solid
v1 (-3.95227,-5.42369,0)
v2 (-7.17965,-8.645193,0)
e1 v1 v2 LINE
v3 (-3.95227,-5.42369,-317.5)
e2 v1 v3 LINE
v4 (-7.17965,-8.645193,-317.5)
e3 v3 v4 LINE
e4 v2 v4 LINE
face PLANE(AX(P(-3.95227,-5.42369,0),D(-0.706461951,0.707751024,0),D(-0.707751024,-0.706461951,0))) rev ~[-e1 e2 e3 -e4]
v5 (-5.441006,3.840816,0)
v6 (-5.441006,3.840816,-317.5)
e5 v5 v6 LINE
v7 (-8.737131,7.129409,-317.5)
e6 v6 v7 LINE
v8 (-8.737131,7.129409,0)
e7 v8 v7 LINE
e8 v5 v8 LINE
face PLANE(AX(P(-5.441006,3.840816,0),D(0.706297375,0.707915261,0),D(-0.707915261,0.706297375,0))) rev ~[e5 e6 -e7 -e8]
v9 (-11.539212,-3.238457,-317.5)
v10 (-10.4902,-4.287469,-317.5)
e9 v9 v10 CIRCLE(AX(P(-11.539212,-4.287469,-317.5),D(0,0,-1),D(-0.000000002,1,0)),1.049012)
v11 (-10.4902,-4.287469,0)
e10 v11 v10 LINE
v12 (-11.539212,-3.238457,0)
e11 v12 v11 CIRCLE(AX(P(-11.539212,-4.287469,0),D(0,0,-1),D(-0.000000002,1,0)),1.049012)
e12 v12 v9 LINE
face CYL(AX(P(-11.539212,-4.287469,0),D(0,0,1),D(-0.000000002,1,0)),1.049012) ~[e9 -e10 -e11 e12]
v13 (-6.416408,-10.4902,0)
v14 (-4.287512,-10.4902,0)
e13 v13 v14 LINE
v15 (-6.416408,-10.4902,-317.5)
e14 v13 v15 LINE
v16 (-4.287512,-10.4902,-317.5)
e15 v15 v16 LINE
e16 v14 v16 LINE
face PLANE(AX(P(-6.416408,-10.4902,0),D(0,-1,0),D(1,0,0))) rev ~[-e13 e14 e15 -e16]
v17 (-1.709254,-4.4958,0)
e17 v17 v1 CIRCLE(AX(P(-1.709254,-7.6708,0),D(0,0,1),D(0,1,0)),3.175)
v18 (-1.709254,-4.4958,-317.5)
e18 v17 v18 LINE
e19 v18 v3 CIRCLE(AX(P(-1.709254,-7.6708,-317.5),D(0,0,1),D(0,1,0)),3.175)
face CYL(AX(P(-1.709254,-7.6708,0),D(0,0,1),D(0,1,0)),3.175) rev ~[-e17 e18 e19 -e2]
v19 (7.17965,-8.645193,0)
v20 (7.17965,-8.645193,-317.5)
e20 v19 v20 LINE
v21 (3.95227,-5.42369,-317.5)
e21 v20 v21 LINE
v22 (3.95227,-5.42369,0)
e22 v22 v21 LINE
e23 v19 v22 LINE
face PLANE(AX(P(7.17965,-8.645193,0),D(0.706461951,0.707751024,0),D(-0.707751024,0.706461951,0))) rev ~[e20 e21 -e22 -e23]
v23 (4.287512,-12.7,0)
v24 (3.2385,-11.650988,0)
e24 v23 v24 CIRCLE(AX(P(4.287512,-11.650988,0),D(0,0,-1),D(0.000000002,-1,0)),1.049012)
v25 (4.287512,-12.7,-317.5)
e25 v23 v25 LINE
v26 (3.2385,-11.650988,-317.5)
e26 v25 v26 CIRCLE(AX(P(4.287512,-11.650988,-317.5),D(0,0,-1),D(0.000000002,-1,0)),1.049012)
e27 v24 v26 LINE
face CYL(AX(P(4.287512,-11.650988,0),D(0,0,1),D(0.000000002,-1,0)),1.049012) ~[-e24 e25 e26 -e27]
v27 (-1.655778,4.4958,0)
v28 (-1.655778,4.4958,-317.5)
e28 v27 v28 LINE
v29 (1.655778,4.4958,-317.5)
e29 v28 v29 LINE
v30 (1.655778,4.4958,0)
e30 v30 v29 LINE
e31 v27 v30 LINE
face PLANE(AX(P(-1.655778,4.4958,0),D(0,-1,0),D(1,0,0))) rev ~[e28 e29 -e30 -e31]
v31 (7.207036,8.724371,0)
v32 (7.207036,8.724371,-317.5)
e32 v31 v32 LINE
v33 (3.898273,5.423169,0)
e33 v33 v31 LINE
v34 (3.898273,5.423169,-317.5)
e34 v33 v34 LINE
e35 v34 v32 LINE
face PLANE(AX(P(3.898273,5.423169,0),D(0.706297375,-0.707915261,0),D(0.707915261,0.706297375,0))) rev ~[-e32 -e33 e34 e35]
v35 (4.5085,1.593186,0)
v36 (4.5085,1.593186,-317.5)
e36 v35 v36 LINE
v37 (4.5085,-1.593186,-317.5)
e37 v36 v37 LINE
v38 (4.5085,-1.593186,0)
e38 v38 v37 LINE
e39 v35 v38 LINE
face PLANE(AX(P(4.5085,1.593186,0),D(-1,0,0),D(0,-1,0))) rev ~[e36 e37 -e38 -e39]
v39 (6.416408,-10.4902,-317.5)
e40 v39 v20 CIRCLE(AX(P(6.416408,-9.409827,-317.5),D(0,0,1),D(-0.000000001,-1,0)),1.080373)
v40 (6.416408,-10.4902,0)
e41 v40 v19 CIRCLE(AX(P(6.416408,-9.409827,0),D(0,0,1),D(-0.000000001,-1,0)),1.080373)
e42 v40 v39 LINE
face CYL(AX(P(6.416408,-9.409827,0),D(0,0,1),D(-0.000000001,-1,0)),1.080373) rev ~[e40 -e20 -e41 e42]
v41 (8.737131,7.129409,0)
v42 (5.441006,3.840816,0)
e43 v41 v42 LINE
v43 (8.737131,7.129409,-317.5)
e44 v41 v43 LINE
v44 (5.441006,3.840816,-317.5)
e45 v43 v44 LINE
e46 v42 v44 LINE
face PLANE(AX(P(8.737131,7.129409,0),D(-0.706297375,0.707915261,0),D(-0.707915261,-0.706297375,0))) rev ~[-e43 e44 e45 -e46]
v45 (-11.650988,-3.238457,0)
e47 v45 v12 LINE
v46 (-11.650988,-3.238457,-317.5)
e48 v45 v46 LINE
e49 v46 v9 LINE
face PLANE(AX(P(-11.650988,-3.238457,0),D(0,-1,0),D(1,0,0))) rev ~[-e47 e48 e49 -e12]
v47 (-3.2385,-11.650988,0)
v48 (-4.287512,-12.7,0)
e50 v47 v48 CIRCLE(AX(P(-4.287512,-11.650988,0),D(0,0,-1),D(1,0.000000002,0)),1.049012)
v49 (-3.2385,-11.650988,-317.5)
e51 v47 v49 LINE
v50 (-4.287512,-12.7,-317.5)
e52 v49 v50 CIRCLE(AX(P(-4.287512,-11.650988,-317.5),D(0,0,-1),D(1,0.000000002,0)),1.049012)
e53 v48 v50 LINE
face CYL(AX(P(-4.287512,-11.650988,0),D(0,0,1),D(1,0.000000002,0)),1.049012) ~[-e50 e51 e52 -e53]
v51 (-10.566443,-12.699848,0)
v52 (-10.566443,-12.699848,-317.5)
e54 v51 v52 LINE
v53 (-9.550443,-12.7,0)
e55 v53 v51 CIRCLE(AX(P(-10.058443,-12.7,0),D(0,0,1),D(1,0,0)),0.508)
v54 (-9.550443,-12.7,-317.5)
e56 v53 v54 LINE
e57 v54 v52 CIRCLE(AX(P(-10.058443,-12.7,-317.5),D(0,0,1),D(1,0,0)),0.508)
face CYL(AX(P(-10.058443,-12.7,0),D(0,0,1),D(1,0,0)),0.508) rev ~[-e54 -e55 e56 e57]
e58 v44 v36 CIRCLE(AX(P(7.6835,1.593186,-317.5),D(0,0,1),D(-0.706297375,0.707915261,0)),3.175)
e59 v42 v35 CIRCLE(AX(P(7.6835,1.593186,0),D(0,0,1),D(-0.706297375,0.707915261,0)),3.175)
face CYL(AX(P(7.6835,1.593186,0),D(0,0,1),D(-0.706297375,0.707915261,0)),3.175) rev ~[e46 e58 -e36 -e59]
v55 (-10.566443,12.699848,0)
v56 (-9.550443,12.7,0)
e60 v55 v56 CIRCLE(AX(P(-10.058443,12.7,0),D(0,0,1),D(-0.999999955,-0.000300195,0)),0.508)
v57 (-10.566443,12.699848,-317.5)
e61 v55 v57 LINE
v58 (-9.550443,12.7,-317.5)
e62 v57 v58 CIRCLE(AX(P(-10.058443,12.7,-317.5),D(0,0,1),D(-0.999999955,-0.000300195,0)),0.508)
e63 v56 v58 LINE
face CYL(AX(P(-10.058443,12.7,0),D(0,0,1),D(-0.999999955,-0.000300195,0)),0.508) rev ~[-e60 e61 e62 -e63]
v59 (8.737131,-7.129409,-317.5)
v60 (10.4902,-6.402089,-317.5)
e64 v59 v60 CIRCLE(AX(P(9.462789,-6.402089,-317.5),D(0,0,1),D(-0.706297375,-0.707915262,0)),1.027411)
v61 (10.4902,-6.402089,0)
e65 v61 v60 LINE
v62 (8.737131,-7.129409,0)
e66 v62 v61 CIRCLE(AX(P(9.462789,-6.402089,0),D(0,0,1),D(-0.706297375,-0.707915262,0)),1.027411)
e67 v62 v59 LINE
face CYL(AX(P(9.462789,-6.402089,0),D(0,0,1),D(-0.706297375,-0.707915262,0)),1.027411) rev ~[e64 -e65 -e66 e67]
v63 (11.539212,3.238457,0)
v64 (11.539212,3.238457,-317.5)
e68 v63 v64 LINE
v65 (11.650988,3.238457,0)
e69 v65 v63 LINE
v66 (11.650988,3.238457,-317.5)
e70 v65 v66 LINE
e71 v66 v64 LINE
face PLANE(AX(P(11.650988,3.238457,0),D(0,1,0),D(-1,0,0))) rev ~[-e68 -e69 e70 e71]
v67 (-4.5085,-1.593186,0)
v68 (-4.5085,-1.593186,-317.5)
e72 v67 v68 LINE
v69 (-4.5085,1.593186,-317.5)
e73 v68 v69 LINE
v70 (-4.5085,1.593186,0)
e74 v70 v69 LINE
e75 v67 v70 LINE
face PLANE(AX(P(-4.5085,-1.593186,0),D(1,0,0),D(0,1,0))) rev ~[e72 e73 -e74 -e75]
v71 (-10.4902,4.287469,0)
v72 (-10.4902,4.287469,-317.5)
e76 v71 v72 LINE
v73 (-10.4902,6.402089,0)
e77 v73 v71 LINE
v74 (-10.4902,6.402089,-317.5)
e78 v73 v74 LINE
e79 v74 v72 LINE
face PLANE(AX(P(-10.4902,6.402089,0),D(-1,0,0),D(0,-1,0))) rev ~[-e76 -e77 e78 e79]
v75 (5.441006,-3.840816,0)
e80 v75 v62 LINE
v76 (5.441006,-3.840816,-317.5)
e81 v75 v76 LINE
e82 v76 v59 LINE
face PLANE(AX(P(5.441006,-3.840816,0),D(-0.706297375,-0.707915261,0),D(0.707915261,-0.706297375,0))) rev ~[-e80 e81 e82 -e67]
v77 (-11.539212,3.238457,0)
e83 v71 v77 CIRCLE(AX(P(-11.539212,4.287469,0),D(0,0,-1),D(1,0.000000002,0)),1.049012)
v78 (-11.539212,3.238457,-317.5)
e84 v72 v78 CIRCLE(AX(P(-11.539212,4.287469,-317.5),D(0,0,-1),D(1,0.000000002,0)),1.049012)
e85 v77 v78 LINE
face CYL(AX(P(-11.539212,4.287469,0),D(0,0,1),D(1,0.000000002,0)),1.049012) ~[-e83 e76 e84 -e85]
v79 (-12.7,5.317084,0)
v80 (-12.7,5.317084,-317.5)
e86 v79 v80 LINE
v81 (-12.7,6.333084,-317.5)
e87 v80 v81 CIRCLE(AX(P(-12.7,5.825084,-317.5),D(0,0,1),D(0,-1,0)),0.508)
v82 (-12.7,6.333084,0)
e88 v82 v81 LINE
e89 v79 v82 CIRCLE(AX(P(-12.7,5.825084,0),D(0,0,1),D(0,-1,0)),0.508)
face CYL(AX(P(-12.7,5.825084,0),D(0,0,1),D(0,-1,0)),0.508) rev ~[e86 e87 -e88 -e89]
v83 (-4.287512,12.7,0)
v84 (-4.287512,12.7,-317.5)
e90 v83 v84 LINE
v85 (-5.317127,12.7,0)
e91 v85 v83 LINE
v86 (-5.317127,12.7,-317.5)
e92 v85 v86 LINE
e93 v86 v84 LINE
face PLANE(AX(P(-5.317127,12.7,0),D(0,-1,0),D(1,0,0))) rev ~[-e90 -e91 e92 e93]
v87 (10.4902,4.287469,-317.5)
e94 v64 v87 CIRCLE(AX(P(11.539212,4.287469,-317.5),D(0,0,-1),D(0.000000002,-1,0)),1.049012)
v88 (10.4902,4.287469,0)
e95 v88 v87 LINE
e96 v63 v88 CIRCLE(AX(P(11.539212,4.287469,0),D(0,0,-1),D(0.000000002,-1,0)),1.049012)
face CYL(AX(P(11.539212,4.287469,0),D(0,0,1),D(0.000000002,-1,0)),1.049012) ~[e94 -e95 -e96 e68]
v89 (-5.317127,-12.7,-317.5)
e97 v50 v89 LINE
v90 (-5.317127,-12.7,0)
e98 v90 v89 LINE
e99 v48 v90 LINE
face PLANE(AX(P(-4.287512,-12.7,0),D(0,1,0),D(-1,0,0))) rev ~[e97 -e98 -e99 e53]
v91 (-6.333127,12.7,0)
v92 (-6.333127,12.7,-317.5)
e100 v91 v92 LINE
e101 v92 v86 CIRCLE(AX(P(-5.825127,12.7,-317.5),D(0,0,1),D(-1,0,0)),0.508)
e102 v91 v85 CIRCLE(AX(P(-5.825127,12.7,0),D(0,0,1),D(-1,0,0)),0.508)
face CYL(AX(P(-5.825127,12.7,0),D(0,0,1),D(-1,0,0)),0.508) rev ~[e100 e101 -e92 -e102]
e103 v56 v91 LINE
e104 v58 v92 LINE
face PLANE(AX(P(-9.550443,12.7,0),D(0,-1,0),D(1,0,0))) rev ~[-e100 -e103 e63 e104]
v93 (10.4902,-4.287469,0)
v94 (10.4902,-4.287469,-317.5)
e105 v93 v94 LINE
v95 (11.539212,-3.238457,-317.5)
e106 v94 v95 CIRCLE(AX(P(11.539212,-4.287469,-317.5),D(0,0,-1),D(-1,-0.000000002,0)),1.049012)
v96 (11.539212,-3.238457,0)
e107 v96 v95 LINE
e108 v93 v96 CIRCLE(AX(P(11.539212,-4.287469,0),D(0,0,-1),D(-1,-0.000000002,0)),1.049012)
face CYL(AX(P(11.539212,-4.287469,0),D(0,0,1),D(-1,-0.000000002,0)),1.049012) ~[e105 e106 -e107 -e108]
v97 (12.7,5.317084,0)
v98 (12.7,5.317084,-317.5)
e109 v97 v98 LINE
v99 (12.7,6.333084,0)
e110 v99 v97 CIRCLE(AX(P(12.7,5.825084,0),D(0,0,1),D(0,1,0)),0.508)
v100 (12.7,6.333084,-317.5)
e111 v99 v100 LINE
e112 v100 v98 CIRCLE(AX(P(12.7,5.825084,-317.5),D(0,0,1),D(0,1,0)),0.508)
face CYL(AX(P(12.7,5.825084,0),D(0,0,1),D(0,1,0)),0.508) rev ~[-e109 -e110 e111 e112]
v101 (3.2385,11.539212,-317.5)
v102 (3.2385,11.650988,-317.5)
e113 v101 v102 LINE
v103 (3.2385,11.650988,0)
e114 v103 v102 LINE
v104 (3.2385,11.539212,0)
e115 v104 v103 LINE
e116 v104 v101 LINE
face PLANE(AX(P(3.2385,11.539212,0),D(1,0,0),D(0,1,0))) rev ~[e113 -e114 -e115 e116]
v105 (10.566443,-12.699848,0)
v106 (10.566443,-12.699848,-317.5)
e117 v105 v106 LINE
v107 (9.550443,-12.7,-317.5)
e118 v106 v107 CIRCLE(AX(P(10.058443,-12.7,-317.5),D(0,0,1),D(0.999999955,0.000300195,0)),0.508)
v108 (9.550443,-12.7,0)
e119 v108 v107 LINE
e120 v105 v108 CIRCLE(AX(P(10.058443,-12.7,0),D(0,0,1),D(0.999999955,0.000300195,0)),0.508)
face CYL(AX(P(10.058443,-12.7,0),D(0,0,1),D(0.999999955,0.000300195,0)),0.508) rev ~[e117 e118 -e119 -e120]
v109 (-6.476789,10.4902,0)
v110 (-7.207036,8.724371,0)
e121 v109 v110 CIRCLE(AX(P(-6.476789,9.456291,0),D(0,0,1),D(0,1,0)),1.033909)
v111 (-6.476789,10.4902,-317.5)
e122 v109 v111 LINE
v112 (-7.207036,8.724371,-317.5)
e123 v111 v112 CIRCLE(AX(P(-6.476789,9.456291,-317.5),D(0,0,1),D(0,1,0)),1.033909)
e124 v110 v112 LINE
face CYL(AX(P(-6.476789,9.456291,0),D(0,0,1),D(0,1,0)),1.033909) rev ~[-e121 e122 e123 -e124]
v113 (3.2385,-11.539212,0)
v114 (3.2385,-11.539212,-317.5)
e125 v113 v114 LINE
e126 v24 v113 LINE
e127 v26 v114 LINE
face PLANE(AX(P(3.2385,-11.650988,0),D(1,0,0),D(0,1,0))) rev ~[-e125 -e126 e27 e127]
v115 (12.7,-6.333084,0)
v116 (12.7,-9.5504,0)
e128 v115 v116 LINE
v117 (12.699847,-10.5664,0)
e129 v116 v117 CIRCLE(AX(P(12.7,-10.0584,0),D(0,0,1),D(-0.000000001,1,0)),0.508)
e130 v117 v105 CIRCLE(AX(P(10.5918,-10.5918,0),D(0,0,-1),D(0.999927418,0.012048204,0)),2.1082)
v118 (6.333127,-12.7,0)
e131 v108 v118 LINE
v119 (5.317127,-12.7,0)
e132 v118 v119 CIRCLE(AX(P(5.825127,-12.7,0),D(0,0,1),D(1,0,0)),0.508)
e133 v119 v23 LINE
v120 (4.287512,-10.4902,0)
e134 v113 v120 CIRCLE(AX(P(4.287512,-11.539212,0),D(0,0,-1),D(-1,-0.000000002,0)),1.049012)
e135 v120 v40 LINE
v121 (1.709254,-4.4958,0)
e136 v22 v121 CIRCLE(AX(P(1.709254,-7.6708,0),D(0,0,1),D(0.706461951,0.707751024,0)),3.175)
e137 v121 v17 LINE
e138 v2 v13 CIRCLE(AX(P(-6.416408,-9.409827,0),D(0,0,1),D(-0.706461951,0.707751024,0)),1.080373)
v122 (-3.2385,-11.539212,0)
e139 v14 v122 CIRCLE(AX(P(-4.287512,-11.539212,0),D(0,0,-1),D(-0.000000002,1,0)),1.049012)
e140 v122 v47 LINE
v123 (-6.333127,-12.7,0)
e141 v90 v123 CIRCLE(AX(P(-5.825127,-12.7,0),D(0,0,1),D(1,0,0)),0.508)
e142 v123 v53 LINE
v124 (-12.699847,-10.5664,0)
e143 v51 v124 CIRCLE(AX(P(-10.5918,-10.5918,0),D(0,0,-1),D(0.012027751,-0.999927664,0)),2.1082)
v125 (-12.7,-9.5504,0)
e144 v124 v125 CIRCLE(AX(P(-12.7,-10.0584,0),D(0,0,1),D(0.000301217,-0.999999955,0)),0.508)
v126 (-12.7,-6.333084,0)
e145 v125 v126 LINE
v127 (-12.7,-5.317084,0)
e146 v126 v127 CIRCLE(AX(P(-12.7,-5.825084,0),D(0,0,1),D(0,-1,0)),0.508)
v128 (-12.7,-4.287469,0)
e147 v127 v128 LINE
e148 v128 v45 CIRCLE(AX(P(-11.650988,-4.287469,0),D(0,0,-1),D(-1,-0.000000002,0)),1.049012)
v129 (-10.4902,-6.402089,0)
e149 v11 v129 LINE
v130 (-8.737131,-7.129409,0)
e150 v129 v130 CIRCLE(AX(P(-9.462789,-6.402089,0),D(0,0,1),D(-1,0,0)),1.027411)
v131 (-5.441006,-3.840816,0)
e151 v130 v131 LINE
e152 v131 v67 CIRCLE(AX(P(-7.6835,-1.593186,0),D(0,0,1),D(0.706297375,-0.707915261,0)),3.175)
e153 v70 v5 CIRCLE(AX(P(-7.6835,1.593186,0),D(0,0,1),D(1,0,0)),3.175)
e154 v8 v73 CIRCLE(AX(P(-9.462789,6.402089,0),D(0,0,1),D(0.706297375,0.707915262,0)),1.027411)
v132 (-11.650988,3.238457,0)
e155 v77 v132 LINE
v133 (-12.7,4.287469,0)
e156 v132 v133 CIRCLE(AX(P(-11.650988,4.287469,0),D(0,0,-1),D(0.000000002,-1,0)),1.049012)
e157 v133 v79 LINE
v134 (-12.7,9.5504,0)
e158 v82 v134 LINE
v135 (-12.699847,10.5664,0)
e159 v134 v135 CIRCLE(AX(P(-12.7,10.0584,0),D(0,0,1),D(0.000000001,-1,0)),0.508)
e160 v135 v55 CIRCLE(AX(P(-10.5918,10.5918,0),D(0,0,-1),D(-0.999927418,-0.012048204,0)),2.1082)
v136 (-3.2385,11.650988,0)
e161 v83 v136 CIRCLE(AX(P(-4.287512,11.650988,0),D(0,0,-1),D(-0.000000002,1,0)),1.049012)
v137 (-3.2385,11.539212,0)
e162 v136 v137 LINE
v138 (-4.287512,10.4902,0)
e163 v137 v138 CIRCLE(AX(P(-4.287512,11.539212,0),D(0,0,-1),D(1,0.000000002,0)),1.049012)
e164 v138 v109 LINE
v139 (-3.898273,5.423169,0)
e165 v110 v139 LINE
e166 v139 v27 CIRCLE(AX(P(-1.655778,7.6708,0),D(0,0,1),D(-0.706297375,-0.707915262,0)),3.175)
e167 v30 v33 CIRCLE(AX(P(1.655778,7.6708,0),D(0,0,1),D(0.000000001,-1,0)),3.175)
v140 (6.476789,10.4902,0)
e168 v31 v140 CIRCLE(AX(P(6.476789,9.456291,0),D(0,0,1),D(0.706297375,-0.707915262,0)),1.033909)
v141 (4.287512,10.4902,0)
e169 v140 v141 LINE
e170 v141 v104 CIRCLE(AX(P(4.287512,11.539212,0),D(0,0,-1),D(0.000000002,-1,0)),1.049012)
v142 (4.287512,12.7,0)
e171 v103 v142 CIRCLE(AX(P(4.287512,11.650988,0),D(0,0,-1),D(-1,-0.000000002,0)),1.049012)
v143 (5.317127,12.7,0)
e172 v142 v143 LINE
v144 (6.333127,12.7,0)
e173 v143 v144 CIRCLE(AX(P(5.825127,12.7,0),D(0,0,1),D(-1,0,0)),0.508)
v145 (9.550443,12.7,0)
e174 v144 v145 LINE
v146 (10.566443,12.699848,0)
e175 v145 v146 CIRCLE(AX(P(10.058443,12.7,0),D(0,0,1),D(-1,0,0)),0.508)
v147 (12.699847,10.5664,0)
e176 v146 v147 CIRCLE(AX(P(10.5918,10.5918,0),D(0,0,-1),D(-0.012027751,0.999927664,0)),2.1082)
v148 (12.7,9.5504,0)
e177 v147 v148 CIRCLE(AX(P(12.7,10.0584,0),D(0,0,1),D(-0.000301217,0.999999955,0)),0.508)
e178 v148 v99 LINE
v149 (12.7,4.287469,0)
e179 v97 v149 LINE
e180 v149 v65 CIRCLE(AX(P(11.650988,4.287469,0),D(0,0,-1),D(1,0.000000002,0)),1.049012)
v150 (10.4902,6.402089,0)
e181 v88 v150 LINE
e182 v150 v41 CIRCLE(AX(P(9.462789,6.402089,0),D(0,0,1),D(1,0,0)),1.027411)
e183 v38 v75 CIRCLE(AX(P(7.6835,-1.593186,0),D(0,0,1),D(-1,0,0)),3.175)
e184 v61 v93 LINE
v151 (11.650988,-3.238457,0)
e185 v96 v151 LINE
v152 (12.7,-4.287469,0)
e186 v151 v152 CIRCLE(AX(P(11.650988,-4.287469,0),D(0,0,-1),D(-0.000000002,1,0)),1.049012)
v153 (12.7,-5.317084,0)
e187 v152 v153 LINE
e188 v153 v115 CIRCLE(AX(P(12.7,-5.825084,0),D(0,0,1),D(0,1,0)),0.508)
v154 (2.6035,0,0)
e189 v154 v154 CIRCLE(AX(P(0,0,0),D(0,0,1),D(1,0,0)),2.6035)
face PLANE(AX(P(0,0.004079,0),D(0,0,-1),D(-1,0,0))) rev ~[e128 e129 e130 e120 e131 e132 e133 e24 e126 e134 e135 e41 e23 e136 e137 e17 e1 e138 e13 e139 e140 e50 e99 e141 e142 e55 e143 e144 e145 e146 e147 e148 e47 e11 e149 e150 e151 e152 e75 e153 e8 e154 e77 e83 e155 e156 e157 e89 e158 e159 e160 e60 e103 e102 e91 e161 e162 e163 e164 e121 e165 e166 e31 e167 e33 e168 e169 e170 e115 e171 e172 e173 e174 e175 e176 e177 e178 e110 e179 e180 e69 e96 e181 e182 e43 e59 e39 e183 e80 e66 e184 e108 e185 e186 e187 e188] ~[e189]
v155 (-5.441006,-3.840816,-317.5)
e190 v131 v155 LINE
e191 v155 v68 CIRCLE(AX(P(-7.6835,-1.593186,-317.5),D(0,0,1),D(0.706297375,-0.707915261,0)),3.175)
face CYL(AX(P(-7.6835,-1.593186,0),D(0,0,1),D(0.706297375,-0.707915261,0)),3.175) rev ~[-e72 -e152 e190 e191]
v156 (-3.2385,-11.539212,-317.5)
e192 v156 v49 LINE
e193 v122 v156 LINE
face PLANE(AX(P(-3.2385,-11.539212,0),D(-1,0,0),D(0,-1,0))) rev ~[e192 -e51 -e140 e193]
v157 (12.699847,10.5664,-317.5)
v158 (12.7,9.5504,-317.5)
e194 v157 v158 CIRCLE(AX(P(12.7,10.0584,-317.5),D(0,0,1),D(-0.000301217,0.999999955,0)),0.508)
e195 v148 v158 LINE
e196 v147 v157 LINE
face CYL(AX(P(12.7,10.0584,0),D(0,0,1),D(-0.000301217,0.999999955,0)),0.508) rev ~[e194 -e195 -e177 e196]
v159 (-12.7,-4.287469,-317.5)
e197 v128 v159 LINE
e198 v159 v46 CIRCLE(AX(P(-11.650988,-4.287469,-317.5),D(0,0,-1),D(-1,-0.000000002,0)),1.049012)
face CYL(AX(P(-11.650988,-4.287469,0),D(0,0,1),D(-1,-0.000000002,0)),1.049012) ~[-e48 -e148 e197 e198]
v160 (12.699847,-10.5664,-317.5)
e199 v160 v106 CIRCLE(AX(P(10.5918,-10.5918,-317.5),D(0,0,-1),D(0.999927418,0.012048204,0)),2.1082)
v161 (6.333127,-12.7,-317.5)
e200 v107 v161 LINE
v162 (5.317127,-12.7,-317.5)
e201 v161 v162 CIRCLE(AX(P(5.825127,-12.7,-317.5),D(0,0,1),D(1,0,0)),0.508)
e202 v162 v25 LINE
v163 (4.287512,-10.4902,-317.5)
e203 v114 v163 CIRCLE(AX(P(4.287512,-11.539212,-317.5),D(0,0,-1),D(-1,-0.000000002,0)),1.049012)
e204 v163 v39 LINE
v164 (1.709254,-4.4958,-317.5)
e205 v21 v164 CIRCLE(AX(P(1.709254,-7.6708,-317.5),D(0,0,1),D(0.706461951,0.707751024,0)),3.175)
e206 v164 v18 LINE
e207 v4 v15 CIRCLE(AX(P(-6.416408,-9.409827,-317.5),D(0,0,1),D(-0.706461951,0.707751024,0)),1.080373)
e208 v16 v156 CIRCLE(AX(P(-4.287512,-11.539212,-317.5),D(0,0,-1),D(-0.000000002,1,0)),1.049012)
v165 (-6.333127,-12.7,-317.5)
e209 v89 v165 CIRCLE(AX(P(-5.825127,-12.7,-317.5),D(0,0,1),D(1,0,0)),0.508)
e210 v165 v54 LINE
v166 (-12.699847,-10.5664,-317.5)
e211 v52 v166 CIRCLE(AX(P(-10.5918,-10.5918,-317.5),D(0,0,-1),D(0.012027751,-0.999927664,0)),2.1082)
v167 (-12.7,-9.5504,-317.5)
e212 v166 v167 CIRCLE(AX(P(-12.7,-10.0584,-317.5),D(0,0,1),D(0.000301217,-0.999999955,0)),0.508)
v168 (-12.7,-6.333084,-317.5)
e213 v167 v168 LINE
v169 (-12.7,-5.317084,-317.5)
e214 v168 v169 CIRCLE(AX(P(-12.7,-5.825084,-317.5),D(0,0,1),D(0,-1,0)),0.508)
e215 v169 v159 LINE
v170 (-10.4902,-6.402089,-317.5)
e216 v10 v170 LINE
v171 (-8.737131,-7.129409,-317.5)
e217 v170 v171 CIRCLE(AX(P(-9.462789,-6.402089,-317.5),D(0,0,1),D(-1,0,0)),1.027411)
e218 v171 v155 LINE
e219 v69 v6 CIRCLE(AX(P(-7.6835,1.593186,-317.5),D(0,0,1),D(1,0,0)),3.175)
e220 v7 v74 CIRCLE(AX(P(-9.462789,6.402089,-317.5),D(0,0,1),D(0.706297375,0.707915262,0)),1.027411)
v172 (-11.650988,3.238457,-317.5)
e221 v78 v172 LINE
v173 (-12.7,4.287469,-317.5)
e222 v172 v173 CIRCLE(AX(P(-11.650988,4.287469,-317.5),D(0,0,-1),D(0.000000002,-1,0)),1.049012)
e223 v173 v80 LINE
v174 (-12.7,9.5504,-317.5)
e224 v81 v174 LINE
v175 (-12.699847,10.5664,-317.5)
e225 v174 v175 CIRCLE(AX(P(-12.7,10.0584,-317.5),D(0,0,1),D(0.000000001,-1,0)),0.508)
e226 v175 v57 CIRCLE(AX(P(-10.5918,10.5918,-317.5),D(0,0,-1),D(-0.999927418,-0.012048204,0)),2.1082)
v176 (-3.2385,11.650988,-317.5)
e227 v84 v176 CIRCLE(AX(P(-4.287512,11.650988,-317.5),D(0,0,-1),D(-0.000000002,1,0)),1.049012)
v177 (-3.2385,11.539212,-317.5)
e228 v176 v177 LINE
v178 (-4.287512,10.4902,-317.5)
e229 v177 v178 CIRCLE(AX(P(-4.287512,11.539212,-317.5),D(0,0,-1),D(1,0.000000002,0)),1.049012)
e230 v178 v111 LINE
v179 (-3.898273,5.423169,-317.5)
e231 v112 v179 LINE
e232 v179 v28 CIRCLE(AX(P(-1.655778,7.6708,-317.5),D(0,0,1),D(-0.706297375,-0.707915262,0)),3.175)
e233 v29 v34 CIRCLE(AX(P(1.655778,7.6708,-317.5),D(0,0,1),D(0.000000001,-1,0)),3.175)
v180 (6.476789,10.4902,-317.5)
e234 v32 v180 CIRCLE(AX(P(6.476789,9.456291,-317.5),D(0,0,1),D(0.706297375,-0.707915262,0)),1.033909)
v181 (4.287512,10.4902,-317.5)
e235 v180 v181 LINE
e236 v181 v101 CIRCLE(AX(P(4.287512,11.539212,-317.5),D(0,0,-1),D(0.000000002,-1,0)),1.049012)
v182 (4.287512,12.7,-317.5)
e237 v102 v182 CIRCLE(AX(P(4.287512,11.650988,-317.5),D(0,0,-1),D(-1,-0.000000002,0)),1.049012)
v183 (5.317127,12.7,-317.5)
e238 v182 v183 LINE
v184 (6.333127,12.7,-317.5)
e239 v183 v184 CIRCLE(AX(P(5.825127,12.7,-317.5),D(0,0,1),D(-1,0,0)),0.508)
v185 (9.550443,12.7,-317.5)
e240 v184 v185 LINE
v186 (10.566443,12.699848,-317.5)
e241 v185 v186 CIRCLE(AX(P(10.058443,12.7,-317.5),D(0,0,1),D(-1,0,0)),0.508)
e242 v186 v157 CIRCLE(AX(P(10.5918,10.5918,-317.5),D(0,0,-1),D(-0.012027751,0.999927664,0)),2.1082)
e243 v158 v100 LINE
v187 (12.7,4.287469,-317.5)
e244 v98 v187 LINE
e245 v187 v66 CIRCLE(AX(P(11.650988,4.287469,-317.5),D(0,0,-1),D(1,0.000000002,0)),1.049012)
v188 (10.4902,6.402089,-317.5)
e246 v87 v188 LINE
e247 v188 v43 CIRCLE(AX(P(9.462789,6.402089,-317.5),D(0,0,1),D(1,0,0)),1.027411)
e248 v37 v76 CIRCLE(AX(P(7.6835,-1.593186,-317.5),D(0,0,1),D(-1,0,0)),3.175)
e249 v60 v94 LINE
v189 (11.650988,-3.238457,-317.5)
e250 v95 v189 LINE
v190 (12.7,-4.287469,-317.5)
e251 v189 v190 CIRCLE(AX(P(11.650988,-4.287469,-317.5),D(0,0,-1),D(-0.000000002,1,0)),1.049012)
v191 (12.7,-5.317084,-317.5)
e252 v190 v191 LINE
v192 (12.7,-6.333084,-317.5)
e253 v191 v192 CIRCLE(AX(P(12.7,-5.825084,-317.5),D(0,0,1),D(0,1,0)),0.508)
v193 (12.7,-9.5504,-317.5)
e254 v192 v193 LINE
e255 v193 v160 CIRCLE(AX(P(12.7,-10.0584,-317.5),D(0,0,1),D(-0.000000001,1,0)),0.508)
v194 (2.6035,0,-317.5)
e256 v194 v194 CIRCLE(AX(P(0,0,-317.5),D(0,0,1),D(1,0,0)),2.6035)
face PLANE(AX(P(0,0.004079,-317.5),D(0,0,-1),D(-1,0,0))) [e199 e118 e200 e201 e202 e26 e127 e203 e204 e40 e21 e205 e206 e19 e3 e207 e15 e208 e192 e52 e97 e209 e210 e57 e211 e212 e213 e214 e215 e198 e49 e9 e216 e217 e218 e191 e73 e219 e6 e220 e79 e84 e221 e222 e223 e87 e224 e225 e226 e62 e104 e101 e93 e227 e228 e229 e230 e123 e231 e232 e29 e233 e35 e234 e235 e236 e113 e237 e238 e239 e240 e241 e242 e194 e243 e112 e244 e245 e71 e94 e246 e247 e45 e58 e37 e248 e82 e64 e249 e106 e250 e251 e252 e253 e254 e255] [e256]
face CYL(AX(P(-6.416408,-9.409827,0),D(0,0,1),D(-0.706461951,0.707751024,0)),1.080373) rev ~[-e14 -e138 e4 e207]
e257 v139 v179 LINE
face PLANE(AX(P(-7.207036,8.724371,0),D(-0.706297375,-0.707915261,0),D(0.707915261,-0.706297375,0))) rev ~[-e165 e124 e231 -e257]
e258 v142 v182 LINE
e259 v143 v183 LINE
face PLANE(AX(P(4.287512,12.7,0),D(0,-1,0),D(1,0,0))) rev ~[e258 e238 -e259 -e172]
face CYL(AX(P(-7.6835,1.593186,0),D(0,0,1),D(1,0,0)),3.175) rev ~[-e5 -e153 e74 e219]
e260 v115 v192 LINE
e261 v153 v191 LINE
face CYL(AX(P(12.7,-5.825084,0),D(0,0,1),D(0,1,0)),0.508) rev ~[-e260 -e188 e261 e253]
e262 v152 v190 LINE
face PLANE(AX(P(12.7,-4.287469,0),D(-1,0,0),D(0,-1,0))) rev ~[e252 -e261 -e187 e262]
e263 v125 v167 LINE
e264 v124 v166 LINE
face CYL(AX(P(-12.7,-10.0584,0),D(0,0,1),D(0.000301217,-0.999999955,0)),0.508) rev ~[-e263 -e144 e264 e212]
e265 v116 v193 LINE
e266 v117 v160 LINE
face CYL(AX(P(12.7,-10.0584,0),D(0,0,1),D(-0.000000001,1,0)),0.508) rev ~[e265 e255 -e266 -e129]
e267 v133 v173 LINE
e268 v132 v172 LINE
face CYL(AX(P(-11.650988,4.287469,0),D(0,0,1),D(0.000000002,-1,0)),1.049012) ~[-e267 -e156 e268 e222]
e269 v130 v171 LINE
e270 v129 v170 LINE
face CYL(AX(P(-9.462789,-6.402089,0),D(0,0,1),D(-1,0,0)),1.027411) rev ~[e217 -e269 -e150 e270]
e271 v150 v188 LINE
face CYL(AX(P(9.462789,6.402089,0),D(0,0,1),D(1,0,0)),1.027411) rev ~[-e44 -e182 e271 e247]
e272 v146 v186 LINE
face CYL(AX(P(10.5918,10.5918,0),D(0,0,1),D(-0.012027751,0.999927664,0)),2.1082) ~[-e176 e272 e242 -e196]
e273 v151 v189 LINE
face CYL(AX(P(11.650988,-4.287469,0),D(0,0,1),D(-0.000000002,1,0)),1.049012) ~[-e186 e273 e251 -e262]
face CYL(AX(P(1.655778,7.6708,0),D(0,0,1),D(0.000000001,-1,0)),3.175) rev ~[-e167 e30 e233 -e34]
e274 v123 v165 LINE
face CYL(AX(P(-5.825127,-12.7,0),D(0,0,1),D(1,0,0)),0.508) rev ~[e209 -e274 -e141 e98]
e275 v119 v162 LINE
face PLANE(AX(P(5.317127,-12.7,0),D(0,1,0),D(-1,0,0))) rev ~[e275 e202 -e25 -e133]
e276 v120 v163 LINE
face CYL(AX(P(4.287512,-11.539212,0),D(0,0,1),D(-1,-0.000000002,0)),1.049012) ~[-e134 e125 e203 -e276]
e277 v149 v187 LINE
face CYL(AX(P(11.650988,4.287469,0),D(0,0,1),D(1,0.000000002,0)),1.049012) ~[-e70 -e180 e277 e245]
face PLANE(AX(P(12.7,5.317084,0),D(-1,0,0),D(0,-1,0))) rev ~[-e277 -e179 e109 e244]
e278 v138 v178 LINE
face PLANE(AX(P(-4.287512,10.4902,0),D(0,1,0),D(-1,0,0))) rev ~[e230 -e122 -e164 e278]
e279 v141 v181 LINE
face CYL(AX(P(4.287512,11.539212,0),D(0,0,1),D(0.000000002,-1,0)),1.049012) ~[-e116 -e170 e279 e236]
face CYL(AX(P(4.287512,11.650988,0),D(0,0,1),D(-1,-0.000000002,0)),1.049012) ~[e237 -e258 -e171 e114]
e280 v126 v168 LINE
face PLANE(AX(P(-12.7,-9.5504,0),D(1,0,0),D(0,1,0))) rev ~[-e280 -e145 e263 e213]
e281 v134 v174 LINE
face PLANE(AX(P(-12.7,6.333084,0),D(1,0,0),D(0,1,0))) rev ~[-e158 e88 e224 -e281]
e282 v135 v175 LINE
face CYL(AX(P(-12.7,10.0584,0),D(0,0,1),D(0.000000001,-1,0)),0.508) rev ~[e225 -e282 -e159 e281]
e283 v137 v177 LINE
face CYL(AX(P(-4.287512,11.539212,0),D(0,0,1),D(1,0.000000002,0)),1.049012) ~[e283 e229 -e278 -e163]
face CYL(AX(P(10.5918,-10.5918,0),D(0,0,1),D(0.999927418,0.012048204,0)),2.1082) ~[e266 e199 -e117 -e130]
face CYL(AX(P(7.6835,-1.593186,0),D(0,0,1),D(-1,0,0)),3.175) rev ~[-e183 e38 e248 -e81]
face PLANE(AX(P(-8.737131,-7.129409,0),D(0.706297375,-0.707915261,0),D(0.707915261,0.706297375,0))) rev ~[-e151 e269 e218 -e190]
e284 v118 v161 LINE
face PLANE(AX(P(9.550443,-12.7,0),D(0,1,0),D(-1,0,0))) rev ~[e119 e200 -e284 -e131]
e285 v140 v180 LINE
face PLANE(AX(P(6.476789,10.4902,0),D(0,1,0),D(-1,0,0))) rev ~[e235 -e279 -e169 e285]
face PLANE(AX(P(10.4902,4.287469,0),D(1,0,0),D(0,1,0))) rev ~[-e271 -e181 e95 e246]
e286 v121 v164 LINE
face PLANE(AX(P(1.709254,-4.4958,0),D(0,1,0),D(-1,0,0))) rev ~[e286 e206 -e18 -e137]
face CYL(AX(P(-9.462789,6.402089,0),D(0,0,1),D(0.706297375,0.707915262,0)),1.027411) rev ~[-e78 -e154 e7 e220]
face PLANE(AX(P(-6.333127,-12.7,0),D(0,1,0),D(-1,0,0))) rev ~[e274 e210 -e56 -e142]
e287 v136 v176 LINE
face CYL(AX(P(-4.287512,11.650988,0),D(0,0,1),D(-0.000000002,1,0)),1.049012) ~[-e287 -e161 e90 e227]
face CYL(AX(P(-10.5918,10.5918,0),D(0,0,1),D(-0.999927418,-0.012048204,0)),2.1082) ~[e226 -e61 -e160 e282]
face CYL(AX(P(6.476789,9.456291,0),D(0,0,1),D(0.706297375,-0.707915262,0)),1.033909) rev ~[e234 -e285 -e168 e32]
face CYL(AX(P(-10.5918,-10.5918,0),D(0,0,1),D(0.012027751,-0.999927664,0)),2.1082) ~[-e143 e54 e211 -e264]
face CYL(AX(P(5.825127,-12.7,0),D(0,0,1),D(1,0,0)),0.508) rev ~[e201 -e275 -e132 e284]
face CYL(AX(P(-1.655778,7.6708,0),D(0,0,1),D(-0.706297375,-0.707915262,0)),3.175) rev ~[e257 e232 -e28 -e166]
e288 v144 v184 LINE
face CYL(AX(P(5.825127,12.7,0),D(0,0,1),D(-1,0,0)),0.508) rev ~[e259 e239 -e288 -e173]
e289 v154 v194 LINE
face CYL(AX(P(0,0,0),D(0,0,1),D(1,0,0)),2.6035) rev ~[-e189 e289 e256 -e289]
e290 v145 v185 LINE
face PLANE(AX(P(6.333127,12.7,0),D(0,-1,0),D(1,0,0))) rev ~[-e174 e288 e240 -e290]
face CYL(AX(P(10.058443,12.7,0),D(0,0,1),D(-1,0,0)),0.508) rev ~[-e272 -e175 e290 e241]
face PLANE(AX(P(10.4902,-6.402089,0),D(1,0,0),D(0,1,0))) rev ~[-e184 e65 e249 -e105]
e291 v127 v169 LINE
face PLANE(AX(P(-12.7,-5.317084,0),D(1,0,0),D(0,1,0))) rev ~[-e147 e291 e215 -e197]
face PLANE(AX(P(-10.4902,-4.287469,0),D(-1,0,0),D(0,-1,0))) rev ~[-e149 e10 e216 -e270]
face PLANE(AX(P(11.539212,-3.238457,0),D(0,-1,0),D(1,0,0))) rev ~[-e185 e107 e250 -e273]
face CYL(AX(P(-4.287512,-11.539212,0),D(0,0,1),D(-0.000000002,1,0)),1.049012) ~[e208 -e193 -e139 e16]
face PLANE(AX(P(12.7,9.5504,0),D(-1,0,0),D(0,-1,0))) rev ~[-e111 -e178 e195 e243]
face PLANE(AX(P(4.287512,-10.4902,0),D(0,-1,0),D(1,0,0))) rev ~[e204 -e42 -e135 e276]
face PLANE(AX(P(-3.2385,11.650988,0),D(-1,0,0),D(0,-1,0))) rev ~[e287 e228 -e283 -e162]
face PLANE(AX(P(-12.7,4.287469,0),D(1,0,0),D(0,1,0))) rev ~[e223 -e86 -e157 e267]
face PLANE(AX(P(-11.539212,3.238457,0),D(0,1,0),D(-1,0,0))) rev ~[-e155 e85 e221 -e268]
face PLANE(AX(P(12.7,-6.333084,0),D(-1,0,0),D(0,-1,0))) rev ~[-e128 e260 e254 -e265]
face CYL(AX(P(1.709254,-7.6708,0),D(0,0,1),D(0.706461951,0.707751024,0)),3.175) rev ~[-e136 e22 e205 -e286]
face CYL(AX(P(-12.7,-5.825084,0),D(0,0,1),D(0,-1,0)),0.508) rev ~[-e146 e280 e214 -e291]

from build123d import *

# Parameters (mm, degrees)
SKETCH1_R      = 2.6035
EXTRUDE1_DEPTH = 317.5


with BuildPart() as part:
    # Sketch1 → Extrude1 (new body)
    with BuildSketch(Plane.XY):
        with BuildLine():
            Line((-7.207036008, 8.724370562), (-3.898272566, 5.423169045))
            ThreePointArc((-3.898272566, 5.423169045), (-2.869120213, 4.736787962), (-1.655778399, 4.4958))
            Line((-1.655778399, 4.4958), (1.655778399, 4.4958))
            ThreePointArc((1.655778399, 4.4958), (2.869120213, 4.736787962), (3.898272566, 5.423169045))
            Line((3.898272566, 5.423169045), (7.207036008, 8.724370562))
            ThreePointArc((7.207036008, 8.724370562), (7.432222385, 9.85140422), (6.476788598, 10.4902))
            Line((6.476788598, 10.4902), (4.287512407, 10.4902))
            ThreePointArc((4.287512407, 10.4902), (3.54574862, 10.79744862), (3.2385, 11.539212407))
            Line((3.2385, 11.539212407), (3.2385, 11.650987593))
            ThreePointArc((3.2385, 11.650987593), (3.54574862, 12.39275138), (4.287512407, 12.7))
            Line((4.287512407, 12.7), (5.317126718, 12.7))
            ThreePointArc((5.317126718, 12.7), (5.825126718, 12.192), (6.333126718, 12.7))
            Line((6.333126718, 12.7), (9.550443118, 12.7))
            ThreePointArc((9.550443118, 12.7), (10.058366869, 12.192000006), (10.566443095, 12.699847501))
            ThreePointArc((10.566443095, 12.699847501), (12.082537762, 12.08250727), (12.699846982, 10.566399977))
            ThreePointArc((12.699846982, 10.566399977), (12.192000006, 10.058323491), (12.7, 9.5504))
            Line((12.7, 9.5504), (12.7, 6.3330836))
            ThreePointArc((12.7, 6.3330836), (12.192, 5.8250836), (12.7, 5.3170836))
            Line((12.7, 5.3170836), (12.7, 4.287469289))
            ThreePointArc((12.7, 4.287469289), (12.39275138, 3.545705502), (11.650987593, 3.238456882))
            Line((11.650987593, 3.238456882), (11.539212407, 3.238456882))
            ThreePointArc((11.539212407, 3.238456882), (10.79744862, 3.545705502), (10.4902, 4.287469289))
            Line((10.4902, 4.287469289), (10.4902, 6.402089023))
            ThreePointArc((10.4902, 6.402089023), (9.856505071, 7.351067942), (8.737131347, 7.129408934))
            Line((8.737131347, 7.129408934), (5.441005833, 3.840816462))
            ThreePointArc((5.441005833, 3.840816462), (4.750877967, 2.809883091), (4.5085, 1.593185507))
            Line((4.5085, 1.593185507), (4.5085, -1.593185507))
            ThreePointArc((4.5085, -1.593185507), (4.750877967, -2.809883091), (5.441005833, -3.840816462))
            Line((5.441005833, -3.840816462), (8.737131347, -7.129408934))
            ThreePointArc((8.737131347, -7.129408934), (9.856505071, -7.351067942), (10.4902, -6.402089023))
            Line((10.4902, -6.402089023), (10.4902, -4.287469289))
            ThreePointArc((10.4902, -4.287469289), (10.79744862, -3.545705502), (11.539212407, -3.238456882))
            Line((11.539212407, -3.238456882), (11.650987593, -3.238456882))
            ThreePointArc((11.650987593, -3.238456882), (12.39275138, -3.545705502), (12.7, -4.287469289))
            Line((12.7, -4.287469289), (12.7, -5.3170836))
            ThreePointArc((12.7, -5.3170836), (12.192, -5.8250836), (12.7, -6.3330836))
            Line((12.7, -6.3330836), (12.7, -9.5504))
            ThreePointArc((12.7, -9.5504), (12.192000006, -10.058323491), (12.699846982, -10.566399977))
            ThreePointArc((12.699846982, -10.566399977), (12.082537762, -12.08250727), (10.566443095, -12.699847501))
            ThreePointArc((10.566443095, -12.699847501), (10.058366869, -12.192000006), (9.550443118, -12.7))
            Line((9.550443118, -12.7), (6.333126718, -12.7))
            ThreePointArc((6.333126718, -12.7), (5.825126718, -12.192), (5.317126718, -12.7))
            Line((5.317126718, -12.7), (4.287512407, -12.7))
            ThreePointArc((4.287512407, -12.7), (3.54574862, -12.39275138), (3.2385, -11.650987593))
            Line((3.2385, -11.650987593), (3.2385, -11.539212407))
            ThreePointArc((3.2385, -11.539212407), (3.54574862, -10.79744862), (4.287512407, -10.4902))
            Line((4.287512407, -10.4902), (6.416408329, -10.4902))
            ThreePointArc((6.416408329, -10.4902), (7.41473083, -9.822813117), (7.179650497, -8.645192506))
            Line((7.179650497, -8.645192506), (3.952270251, -5.423690499))
            ThreePointArc((3.952270251, -5.423690499), (2.922936451, -4.736929036), (1.709253557, -4.4958))
            Line((1.709253557, -4.4958), (-1.709253557, -4.4958))
            ThreePointArc((-1.709253557, -4.4958), (-2.922936451, -4.736929036), (-3.952270251, -5.423690499))
            Line((-3.952270251, -5.423690499), (-7.179650497, -8.645192506))
            ThreePointArc((-7.179650497, -8.645192506), (-7.41473083, -9.822813117), (-6.416408329, -10.4902))
            Line((-6.416408329, -10.4902), (-4.287512407, -10.4902))
            ThreePointArc((-4.287512407, -10.4902), (-3.54574862, -10.79744862), (-3.2385, -11.539212407))
            Line((-3.2385, -11.539212407), (-3.2385, -11.650987593))
            ThreePointArc((-3.2385, -11.650987593), (-3.54574862, -12.39275138), (-4.287512407, -12.7))
            Line((-4.287512407, -12.7), (-5.317126718, -12.7))
            ThreePointArc((-5.317126718, -12.7), (-5.825126718, -12.192), (-6.333126718, -12.7))
            Line((-6.333126718, -12.7), (-9.550443118, -12.7))
            ThreePointArc((-9.550443118, -12.7), (-10.058366869, -12.192000006), (-10.566443095, -12.699847501))
            ThreePointArc((-10.566443095, -12.699847501), (-12.082537762, -12.08250727), (-12.699846982, -10.566399977))
            ThreePointArc((-12.699846982, -10.566399977), (-12.192000006, -10.058323491), (-12.7, -9.5504))
            Line((-12.7, -9.5504), (-12.7, -6.3330836))
            ThreePointArc((-12.7, -6.3330836), (-12.192, -5.8250836), (-12.7, -5.3170836))
            Line((-12.7, -5.3170836), (-12.7, -4.287469289))
            ThreePointArc((-12.7, -4.287469289), (-12.39275138, -3.545705502), (-11.650987593, -3.238456882))
            Line((-11.650987593, -3.238456882), (-11.539212407, -3.238456882))
            ThreePointArc((-11.539212407, -3.238456882), (-10.79744862, -3.545705502), (-10.4902, -4.287469289))
            Line((-10.4902, -4.287469289), (-10.4902, -6.402089023))
            ThreePointArc((-10.4902, -6.402089023), (-9.856505071, -7.351067942), (-8.737131347, -7.129408934))
            Line((-8.737131347, -7.129408934), (-5.441005833, -3.840816462))
            ThreePointArc((-5.441005833, -3.840816462), (-4.750877967, -2.809883091), (-4.5085, -1.593185507))
            Line((-4.5085, -1.593185507), (-4.5085, 1.593185507))
            ThreePointArc((-4.5085, 1.593185507), (-4.750877967, 2.809883091), (-5.441005833, 3.840816462))
            Line((-5.441005833, 3.840816462), (-8.737131347, 7.129408934))
            ThreePointArc((-8.737131347, 7.129408934), (-9.856505071, 7.351067942), (-10.4902, 6.402089023))
            Line((-10.4902, 6.402089023), (-10.4902, 4.287469289))
            ThreePointArc((-10.4902, 4.287469289), (-10.79744862, 3.545705502), (-11.539212407, 3.238456882))
            Line((-11.539212407, 3.238456882), (-11.650987593, 3.238456882))
            ThreePointArc((-11.650987593, 3.238456882), (-12.39275138, 3.545705502), (-12.7, 4.287469289))
            Line((-12.7, 4.287469289), (-12.7, 5.3170836))
            ThreePointArc((-12.7, 5.3170836), (-12.192, 5.8250836), (-12.7, 6.3330836))
            Line((-12.7, 6.3330836), (-12.7, 9.5504))
            ThreePointArc((-12.7, 9.5504), (-12.192000006, 10.058323491), (-12.699846982, 10.566399977))
            ThreePointArc((-12.699846982, 10.566399977), (-12.082537762, 12.08250727), (-10.566443095, 12.699847501))
            ThreePointArc((-10.566443095, 12.699847501), (-10.058366869, 12.192000006), (-9.550443118, 12.7))
            Line((-9.550443118, 12.7), (-6.333126718, 12.7))
            ThreePointArc((-6.333126718, 12.7), (-5.825126718, 12.192), (-5.317126718, 12.7))
            Line((-5.317126718, 12.7), (-4.287512407, 12.7))
            ThreePointArc((-4.287512407, 12.7), (-3.54574862, 12.39275138), (-3.2385, 11.650987593))
            Line((-3.2385, 11.650987593), (-3.2385, 11.539212407))
            ThreePointArc((-3.2385, 11.539212407), (-3.54574862, 10.79744862), (-4.287512407, 10.4902))
            Line((-4.287512407, 10.4902), (-6.476788598, 10.4902))
            ThreePointArc((-6.476788598, 10.4902), (-7.432222385, 9.85140422), (-7.207036008, 8.724370562))
        make_face()
        Circle(SKETCH1_R, mode=Mode.SUBTRACT)
    extrude(amount=-EXTRUDE1_DEPTH)


solid = part.part
